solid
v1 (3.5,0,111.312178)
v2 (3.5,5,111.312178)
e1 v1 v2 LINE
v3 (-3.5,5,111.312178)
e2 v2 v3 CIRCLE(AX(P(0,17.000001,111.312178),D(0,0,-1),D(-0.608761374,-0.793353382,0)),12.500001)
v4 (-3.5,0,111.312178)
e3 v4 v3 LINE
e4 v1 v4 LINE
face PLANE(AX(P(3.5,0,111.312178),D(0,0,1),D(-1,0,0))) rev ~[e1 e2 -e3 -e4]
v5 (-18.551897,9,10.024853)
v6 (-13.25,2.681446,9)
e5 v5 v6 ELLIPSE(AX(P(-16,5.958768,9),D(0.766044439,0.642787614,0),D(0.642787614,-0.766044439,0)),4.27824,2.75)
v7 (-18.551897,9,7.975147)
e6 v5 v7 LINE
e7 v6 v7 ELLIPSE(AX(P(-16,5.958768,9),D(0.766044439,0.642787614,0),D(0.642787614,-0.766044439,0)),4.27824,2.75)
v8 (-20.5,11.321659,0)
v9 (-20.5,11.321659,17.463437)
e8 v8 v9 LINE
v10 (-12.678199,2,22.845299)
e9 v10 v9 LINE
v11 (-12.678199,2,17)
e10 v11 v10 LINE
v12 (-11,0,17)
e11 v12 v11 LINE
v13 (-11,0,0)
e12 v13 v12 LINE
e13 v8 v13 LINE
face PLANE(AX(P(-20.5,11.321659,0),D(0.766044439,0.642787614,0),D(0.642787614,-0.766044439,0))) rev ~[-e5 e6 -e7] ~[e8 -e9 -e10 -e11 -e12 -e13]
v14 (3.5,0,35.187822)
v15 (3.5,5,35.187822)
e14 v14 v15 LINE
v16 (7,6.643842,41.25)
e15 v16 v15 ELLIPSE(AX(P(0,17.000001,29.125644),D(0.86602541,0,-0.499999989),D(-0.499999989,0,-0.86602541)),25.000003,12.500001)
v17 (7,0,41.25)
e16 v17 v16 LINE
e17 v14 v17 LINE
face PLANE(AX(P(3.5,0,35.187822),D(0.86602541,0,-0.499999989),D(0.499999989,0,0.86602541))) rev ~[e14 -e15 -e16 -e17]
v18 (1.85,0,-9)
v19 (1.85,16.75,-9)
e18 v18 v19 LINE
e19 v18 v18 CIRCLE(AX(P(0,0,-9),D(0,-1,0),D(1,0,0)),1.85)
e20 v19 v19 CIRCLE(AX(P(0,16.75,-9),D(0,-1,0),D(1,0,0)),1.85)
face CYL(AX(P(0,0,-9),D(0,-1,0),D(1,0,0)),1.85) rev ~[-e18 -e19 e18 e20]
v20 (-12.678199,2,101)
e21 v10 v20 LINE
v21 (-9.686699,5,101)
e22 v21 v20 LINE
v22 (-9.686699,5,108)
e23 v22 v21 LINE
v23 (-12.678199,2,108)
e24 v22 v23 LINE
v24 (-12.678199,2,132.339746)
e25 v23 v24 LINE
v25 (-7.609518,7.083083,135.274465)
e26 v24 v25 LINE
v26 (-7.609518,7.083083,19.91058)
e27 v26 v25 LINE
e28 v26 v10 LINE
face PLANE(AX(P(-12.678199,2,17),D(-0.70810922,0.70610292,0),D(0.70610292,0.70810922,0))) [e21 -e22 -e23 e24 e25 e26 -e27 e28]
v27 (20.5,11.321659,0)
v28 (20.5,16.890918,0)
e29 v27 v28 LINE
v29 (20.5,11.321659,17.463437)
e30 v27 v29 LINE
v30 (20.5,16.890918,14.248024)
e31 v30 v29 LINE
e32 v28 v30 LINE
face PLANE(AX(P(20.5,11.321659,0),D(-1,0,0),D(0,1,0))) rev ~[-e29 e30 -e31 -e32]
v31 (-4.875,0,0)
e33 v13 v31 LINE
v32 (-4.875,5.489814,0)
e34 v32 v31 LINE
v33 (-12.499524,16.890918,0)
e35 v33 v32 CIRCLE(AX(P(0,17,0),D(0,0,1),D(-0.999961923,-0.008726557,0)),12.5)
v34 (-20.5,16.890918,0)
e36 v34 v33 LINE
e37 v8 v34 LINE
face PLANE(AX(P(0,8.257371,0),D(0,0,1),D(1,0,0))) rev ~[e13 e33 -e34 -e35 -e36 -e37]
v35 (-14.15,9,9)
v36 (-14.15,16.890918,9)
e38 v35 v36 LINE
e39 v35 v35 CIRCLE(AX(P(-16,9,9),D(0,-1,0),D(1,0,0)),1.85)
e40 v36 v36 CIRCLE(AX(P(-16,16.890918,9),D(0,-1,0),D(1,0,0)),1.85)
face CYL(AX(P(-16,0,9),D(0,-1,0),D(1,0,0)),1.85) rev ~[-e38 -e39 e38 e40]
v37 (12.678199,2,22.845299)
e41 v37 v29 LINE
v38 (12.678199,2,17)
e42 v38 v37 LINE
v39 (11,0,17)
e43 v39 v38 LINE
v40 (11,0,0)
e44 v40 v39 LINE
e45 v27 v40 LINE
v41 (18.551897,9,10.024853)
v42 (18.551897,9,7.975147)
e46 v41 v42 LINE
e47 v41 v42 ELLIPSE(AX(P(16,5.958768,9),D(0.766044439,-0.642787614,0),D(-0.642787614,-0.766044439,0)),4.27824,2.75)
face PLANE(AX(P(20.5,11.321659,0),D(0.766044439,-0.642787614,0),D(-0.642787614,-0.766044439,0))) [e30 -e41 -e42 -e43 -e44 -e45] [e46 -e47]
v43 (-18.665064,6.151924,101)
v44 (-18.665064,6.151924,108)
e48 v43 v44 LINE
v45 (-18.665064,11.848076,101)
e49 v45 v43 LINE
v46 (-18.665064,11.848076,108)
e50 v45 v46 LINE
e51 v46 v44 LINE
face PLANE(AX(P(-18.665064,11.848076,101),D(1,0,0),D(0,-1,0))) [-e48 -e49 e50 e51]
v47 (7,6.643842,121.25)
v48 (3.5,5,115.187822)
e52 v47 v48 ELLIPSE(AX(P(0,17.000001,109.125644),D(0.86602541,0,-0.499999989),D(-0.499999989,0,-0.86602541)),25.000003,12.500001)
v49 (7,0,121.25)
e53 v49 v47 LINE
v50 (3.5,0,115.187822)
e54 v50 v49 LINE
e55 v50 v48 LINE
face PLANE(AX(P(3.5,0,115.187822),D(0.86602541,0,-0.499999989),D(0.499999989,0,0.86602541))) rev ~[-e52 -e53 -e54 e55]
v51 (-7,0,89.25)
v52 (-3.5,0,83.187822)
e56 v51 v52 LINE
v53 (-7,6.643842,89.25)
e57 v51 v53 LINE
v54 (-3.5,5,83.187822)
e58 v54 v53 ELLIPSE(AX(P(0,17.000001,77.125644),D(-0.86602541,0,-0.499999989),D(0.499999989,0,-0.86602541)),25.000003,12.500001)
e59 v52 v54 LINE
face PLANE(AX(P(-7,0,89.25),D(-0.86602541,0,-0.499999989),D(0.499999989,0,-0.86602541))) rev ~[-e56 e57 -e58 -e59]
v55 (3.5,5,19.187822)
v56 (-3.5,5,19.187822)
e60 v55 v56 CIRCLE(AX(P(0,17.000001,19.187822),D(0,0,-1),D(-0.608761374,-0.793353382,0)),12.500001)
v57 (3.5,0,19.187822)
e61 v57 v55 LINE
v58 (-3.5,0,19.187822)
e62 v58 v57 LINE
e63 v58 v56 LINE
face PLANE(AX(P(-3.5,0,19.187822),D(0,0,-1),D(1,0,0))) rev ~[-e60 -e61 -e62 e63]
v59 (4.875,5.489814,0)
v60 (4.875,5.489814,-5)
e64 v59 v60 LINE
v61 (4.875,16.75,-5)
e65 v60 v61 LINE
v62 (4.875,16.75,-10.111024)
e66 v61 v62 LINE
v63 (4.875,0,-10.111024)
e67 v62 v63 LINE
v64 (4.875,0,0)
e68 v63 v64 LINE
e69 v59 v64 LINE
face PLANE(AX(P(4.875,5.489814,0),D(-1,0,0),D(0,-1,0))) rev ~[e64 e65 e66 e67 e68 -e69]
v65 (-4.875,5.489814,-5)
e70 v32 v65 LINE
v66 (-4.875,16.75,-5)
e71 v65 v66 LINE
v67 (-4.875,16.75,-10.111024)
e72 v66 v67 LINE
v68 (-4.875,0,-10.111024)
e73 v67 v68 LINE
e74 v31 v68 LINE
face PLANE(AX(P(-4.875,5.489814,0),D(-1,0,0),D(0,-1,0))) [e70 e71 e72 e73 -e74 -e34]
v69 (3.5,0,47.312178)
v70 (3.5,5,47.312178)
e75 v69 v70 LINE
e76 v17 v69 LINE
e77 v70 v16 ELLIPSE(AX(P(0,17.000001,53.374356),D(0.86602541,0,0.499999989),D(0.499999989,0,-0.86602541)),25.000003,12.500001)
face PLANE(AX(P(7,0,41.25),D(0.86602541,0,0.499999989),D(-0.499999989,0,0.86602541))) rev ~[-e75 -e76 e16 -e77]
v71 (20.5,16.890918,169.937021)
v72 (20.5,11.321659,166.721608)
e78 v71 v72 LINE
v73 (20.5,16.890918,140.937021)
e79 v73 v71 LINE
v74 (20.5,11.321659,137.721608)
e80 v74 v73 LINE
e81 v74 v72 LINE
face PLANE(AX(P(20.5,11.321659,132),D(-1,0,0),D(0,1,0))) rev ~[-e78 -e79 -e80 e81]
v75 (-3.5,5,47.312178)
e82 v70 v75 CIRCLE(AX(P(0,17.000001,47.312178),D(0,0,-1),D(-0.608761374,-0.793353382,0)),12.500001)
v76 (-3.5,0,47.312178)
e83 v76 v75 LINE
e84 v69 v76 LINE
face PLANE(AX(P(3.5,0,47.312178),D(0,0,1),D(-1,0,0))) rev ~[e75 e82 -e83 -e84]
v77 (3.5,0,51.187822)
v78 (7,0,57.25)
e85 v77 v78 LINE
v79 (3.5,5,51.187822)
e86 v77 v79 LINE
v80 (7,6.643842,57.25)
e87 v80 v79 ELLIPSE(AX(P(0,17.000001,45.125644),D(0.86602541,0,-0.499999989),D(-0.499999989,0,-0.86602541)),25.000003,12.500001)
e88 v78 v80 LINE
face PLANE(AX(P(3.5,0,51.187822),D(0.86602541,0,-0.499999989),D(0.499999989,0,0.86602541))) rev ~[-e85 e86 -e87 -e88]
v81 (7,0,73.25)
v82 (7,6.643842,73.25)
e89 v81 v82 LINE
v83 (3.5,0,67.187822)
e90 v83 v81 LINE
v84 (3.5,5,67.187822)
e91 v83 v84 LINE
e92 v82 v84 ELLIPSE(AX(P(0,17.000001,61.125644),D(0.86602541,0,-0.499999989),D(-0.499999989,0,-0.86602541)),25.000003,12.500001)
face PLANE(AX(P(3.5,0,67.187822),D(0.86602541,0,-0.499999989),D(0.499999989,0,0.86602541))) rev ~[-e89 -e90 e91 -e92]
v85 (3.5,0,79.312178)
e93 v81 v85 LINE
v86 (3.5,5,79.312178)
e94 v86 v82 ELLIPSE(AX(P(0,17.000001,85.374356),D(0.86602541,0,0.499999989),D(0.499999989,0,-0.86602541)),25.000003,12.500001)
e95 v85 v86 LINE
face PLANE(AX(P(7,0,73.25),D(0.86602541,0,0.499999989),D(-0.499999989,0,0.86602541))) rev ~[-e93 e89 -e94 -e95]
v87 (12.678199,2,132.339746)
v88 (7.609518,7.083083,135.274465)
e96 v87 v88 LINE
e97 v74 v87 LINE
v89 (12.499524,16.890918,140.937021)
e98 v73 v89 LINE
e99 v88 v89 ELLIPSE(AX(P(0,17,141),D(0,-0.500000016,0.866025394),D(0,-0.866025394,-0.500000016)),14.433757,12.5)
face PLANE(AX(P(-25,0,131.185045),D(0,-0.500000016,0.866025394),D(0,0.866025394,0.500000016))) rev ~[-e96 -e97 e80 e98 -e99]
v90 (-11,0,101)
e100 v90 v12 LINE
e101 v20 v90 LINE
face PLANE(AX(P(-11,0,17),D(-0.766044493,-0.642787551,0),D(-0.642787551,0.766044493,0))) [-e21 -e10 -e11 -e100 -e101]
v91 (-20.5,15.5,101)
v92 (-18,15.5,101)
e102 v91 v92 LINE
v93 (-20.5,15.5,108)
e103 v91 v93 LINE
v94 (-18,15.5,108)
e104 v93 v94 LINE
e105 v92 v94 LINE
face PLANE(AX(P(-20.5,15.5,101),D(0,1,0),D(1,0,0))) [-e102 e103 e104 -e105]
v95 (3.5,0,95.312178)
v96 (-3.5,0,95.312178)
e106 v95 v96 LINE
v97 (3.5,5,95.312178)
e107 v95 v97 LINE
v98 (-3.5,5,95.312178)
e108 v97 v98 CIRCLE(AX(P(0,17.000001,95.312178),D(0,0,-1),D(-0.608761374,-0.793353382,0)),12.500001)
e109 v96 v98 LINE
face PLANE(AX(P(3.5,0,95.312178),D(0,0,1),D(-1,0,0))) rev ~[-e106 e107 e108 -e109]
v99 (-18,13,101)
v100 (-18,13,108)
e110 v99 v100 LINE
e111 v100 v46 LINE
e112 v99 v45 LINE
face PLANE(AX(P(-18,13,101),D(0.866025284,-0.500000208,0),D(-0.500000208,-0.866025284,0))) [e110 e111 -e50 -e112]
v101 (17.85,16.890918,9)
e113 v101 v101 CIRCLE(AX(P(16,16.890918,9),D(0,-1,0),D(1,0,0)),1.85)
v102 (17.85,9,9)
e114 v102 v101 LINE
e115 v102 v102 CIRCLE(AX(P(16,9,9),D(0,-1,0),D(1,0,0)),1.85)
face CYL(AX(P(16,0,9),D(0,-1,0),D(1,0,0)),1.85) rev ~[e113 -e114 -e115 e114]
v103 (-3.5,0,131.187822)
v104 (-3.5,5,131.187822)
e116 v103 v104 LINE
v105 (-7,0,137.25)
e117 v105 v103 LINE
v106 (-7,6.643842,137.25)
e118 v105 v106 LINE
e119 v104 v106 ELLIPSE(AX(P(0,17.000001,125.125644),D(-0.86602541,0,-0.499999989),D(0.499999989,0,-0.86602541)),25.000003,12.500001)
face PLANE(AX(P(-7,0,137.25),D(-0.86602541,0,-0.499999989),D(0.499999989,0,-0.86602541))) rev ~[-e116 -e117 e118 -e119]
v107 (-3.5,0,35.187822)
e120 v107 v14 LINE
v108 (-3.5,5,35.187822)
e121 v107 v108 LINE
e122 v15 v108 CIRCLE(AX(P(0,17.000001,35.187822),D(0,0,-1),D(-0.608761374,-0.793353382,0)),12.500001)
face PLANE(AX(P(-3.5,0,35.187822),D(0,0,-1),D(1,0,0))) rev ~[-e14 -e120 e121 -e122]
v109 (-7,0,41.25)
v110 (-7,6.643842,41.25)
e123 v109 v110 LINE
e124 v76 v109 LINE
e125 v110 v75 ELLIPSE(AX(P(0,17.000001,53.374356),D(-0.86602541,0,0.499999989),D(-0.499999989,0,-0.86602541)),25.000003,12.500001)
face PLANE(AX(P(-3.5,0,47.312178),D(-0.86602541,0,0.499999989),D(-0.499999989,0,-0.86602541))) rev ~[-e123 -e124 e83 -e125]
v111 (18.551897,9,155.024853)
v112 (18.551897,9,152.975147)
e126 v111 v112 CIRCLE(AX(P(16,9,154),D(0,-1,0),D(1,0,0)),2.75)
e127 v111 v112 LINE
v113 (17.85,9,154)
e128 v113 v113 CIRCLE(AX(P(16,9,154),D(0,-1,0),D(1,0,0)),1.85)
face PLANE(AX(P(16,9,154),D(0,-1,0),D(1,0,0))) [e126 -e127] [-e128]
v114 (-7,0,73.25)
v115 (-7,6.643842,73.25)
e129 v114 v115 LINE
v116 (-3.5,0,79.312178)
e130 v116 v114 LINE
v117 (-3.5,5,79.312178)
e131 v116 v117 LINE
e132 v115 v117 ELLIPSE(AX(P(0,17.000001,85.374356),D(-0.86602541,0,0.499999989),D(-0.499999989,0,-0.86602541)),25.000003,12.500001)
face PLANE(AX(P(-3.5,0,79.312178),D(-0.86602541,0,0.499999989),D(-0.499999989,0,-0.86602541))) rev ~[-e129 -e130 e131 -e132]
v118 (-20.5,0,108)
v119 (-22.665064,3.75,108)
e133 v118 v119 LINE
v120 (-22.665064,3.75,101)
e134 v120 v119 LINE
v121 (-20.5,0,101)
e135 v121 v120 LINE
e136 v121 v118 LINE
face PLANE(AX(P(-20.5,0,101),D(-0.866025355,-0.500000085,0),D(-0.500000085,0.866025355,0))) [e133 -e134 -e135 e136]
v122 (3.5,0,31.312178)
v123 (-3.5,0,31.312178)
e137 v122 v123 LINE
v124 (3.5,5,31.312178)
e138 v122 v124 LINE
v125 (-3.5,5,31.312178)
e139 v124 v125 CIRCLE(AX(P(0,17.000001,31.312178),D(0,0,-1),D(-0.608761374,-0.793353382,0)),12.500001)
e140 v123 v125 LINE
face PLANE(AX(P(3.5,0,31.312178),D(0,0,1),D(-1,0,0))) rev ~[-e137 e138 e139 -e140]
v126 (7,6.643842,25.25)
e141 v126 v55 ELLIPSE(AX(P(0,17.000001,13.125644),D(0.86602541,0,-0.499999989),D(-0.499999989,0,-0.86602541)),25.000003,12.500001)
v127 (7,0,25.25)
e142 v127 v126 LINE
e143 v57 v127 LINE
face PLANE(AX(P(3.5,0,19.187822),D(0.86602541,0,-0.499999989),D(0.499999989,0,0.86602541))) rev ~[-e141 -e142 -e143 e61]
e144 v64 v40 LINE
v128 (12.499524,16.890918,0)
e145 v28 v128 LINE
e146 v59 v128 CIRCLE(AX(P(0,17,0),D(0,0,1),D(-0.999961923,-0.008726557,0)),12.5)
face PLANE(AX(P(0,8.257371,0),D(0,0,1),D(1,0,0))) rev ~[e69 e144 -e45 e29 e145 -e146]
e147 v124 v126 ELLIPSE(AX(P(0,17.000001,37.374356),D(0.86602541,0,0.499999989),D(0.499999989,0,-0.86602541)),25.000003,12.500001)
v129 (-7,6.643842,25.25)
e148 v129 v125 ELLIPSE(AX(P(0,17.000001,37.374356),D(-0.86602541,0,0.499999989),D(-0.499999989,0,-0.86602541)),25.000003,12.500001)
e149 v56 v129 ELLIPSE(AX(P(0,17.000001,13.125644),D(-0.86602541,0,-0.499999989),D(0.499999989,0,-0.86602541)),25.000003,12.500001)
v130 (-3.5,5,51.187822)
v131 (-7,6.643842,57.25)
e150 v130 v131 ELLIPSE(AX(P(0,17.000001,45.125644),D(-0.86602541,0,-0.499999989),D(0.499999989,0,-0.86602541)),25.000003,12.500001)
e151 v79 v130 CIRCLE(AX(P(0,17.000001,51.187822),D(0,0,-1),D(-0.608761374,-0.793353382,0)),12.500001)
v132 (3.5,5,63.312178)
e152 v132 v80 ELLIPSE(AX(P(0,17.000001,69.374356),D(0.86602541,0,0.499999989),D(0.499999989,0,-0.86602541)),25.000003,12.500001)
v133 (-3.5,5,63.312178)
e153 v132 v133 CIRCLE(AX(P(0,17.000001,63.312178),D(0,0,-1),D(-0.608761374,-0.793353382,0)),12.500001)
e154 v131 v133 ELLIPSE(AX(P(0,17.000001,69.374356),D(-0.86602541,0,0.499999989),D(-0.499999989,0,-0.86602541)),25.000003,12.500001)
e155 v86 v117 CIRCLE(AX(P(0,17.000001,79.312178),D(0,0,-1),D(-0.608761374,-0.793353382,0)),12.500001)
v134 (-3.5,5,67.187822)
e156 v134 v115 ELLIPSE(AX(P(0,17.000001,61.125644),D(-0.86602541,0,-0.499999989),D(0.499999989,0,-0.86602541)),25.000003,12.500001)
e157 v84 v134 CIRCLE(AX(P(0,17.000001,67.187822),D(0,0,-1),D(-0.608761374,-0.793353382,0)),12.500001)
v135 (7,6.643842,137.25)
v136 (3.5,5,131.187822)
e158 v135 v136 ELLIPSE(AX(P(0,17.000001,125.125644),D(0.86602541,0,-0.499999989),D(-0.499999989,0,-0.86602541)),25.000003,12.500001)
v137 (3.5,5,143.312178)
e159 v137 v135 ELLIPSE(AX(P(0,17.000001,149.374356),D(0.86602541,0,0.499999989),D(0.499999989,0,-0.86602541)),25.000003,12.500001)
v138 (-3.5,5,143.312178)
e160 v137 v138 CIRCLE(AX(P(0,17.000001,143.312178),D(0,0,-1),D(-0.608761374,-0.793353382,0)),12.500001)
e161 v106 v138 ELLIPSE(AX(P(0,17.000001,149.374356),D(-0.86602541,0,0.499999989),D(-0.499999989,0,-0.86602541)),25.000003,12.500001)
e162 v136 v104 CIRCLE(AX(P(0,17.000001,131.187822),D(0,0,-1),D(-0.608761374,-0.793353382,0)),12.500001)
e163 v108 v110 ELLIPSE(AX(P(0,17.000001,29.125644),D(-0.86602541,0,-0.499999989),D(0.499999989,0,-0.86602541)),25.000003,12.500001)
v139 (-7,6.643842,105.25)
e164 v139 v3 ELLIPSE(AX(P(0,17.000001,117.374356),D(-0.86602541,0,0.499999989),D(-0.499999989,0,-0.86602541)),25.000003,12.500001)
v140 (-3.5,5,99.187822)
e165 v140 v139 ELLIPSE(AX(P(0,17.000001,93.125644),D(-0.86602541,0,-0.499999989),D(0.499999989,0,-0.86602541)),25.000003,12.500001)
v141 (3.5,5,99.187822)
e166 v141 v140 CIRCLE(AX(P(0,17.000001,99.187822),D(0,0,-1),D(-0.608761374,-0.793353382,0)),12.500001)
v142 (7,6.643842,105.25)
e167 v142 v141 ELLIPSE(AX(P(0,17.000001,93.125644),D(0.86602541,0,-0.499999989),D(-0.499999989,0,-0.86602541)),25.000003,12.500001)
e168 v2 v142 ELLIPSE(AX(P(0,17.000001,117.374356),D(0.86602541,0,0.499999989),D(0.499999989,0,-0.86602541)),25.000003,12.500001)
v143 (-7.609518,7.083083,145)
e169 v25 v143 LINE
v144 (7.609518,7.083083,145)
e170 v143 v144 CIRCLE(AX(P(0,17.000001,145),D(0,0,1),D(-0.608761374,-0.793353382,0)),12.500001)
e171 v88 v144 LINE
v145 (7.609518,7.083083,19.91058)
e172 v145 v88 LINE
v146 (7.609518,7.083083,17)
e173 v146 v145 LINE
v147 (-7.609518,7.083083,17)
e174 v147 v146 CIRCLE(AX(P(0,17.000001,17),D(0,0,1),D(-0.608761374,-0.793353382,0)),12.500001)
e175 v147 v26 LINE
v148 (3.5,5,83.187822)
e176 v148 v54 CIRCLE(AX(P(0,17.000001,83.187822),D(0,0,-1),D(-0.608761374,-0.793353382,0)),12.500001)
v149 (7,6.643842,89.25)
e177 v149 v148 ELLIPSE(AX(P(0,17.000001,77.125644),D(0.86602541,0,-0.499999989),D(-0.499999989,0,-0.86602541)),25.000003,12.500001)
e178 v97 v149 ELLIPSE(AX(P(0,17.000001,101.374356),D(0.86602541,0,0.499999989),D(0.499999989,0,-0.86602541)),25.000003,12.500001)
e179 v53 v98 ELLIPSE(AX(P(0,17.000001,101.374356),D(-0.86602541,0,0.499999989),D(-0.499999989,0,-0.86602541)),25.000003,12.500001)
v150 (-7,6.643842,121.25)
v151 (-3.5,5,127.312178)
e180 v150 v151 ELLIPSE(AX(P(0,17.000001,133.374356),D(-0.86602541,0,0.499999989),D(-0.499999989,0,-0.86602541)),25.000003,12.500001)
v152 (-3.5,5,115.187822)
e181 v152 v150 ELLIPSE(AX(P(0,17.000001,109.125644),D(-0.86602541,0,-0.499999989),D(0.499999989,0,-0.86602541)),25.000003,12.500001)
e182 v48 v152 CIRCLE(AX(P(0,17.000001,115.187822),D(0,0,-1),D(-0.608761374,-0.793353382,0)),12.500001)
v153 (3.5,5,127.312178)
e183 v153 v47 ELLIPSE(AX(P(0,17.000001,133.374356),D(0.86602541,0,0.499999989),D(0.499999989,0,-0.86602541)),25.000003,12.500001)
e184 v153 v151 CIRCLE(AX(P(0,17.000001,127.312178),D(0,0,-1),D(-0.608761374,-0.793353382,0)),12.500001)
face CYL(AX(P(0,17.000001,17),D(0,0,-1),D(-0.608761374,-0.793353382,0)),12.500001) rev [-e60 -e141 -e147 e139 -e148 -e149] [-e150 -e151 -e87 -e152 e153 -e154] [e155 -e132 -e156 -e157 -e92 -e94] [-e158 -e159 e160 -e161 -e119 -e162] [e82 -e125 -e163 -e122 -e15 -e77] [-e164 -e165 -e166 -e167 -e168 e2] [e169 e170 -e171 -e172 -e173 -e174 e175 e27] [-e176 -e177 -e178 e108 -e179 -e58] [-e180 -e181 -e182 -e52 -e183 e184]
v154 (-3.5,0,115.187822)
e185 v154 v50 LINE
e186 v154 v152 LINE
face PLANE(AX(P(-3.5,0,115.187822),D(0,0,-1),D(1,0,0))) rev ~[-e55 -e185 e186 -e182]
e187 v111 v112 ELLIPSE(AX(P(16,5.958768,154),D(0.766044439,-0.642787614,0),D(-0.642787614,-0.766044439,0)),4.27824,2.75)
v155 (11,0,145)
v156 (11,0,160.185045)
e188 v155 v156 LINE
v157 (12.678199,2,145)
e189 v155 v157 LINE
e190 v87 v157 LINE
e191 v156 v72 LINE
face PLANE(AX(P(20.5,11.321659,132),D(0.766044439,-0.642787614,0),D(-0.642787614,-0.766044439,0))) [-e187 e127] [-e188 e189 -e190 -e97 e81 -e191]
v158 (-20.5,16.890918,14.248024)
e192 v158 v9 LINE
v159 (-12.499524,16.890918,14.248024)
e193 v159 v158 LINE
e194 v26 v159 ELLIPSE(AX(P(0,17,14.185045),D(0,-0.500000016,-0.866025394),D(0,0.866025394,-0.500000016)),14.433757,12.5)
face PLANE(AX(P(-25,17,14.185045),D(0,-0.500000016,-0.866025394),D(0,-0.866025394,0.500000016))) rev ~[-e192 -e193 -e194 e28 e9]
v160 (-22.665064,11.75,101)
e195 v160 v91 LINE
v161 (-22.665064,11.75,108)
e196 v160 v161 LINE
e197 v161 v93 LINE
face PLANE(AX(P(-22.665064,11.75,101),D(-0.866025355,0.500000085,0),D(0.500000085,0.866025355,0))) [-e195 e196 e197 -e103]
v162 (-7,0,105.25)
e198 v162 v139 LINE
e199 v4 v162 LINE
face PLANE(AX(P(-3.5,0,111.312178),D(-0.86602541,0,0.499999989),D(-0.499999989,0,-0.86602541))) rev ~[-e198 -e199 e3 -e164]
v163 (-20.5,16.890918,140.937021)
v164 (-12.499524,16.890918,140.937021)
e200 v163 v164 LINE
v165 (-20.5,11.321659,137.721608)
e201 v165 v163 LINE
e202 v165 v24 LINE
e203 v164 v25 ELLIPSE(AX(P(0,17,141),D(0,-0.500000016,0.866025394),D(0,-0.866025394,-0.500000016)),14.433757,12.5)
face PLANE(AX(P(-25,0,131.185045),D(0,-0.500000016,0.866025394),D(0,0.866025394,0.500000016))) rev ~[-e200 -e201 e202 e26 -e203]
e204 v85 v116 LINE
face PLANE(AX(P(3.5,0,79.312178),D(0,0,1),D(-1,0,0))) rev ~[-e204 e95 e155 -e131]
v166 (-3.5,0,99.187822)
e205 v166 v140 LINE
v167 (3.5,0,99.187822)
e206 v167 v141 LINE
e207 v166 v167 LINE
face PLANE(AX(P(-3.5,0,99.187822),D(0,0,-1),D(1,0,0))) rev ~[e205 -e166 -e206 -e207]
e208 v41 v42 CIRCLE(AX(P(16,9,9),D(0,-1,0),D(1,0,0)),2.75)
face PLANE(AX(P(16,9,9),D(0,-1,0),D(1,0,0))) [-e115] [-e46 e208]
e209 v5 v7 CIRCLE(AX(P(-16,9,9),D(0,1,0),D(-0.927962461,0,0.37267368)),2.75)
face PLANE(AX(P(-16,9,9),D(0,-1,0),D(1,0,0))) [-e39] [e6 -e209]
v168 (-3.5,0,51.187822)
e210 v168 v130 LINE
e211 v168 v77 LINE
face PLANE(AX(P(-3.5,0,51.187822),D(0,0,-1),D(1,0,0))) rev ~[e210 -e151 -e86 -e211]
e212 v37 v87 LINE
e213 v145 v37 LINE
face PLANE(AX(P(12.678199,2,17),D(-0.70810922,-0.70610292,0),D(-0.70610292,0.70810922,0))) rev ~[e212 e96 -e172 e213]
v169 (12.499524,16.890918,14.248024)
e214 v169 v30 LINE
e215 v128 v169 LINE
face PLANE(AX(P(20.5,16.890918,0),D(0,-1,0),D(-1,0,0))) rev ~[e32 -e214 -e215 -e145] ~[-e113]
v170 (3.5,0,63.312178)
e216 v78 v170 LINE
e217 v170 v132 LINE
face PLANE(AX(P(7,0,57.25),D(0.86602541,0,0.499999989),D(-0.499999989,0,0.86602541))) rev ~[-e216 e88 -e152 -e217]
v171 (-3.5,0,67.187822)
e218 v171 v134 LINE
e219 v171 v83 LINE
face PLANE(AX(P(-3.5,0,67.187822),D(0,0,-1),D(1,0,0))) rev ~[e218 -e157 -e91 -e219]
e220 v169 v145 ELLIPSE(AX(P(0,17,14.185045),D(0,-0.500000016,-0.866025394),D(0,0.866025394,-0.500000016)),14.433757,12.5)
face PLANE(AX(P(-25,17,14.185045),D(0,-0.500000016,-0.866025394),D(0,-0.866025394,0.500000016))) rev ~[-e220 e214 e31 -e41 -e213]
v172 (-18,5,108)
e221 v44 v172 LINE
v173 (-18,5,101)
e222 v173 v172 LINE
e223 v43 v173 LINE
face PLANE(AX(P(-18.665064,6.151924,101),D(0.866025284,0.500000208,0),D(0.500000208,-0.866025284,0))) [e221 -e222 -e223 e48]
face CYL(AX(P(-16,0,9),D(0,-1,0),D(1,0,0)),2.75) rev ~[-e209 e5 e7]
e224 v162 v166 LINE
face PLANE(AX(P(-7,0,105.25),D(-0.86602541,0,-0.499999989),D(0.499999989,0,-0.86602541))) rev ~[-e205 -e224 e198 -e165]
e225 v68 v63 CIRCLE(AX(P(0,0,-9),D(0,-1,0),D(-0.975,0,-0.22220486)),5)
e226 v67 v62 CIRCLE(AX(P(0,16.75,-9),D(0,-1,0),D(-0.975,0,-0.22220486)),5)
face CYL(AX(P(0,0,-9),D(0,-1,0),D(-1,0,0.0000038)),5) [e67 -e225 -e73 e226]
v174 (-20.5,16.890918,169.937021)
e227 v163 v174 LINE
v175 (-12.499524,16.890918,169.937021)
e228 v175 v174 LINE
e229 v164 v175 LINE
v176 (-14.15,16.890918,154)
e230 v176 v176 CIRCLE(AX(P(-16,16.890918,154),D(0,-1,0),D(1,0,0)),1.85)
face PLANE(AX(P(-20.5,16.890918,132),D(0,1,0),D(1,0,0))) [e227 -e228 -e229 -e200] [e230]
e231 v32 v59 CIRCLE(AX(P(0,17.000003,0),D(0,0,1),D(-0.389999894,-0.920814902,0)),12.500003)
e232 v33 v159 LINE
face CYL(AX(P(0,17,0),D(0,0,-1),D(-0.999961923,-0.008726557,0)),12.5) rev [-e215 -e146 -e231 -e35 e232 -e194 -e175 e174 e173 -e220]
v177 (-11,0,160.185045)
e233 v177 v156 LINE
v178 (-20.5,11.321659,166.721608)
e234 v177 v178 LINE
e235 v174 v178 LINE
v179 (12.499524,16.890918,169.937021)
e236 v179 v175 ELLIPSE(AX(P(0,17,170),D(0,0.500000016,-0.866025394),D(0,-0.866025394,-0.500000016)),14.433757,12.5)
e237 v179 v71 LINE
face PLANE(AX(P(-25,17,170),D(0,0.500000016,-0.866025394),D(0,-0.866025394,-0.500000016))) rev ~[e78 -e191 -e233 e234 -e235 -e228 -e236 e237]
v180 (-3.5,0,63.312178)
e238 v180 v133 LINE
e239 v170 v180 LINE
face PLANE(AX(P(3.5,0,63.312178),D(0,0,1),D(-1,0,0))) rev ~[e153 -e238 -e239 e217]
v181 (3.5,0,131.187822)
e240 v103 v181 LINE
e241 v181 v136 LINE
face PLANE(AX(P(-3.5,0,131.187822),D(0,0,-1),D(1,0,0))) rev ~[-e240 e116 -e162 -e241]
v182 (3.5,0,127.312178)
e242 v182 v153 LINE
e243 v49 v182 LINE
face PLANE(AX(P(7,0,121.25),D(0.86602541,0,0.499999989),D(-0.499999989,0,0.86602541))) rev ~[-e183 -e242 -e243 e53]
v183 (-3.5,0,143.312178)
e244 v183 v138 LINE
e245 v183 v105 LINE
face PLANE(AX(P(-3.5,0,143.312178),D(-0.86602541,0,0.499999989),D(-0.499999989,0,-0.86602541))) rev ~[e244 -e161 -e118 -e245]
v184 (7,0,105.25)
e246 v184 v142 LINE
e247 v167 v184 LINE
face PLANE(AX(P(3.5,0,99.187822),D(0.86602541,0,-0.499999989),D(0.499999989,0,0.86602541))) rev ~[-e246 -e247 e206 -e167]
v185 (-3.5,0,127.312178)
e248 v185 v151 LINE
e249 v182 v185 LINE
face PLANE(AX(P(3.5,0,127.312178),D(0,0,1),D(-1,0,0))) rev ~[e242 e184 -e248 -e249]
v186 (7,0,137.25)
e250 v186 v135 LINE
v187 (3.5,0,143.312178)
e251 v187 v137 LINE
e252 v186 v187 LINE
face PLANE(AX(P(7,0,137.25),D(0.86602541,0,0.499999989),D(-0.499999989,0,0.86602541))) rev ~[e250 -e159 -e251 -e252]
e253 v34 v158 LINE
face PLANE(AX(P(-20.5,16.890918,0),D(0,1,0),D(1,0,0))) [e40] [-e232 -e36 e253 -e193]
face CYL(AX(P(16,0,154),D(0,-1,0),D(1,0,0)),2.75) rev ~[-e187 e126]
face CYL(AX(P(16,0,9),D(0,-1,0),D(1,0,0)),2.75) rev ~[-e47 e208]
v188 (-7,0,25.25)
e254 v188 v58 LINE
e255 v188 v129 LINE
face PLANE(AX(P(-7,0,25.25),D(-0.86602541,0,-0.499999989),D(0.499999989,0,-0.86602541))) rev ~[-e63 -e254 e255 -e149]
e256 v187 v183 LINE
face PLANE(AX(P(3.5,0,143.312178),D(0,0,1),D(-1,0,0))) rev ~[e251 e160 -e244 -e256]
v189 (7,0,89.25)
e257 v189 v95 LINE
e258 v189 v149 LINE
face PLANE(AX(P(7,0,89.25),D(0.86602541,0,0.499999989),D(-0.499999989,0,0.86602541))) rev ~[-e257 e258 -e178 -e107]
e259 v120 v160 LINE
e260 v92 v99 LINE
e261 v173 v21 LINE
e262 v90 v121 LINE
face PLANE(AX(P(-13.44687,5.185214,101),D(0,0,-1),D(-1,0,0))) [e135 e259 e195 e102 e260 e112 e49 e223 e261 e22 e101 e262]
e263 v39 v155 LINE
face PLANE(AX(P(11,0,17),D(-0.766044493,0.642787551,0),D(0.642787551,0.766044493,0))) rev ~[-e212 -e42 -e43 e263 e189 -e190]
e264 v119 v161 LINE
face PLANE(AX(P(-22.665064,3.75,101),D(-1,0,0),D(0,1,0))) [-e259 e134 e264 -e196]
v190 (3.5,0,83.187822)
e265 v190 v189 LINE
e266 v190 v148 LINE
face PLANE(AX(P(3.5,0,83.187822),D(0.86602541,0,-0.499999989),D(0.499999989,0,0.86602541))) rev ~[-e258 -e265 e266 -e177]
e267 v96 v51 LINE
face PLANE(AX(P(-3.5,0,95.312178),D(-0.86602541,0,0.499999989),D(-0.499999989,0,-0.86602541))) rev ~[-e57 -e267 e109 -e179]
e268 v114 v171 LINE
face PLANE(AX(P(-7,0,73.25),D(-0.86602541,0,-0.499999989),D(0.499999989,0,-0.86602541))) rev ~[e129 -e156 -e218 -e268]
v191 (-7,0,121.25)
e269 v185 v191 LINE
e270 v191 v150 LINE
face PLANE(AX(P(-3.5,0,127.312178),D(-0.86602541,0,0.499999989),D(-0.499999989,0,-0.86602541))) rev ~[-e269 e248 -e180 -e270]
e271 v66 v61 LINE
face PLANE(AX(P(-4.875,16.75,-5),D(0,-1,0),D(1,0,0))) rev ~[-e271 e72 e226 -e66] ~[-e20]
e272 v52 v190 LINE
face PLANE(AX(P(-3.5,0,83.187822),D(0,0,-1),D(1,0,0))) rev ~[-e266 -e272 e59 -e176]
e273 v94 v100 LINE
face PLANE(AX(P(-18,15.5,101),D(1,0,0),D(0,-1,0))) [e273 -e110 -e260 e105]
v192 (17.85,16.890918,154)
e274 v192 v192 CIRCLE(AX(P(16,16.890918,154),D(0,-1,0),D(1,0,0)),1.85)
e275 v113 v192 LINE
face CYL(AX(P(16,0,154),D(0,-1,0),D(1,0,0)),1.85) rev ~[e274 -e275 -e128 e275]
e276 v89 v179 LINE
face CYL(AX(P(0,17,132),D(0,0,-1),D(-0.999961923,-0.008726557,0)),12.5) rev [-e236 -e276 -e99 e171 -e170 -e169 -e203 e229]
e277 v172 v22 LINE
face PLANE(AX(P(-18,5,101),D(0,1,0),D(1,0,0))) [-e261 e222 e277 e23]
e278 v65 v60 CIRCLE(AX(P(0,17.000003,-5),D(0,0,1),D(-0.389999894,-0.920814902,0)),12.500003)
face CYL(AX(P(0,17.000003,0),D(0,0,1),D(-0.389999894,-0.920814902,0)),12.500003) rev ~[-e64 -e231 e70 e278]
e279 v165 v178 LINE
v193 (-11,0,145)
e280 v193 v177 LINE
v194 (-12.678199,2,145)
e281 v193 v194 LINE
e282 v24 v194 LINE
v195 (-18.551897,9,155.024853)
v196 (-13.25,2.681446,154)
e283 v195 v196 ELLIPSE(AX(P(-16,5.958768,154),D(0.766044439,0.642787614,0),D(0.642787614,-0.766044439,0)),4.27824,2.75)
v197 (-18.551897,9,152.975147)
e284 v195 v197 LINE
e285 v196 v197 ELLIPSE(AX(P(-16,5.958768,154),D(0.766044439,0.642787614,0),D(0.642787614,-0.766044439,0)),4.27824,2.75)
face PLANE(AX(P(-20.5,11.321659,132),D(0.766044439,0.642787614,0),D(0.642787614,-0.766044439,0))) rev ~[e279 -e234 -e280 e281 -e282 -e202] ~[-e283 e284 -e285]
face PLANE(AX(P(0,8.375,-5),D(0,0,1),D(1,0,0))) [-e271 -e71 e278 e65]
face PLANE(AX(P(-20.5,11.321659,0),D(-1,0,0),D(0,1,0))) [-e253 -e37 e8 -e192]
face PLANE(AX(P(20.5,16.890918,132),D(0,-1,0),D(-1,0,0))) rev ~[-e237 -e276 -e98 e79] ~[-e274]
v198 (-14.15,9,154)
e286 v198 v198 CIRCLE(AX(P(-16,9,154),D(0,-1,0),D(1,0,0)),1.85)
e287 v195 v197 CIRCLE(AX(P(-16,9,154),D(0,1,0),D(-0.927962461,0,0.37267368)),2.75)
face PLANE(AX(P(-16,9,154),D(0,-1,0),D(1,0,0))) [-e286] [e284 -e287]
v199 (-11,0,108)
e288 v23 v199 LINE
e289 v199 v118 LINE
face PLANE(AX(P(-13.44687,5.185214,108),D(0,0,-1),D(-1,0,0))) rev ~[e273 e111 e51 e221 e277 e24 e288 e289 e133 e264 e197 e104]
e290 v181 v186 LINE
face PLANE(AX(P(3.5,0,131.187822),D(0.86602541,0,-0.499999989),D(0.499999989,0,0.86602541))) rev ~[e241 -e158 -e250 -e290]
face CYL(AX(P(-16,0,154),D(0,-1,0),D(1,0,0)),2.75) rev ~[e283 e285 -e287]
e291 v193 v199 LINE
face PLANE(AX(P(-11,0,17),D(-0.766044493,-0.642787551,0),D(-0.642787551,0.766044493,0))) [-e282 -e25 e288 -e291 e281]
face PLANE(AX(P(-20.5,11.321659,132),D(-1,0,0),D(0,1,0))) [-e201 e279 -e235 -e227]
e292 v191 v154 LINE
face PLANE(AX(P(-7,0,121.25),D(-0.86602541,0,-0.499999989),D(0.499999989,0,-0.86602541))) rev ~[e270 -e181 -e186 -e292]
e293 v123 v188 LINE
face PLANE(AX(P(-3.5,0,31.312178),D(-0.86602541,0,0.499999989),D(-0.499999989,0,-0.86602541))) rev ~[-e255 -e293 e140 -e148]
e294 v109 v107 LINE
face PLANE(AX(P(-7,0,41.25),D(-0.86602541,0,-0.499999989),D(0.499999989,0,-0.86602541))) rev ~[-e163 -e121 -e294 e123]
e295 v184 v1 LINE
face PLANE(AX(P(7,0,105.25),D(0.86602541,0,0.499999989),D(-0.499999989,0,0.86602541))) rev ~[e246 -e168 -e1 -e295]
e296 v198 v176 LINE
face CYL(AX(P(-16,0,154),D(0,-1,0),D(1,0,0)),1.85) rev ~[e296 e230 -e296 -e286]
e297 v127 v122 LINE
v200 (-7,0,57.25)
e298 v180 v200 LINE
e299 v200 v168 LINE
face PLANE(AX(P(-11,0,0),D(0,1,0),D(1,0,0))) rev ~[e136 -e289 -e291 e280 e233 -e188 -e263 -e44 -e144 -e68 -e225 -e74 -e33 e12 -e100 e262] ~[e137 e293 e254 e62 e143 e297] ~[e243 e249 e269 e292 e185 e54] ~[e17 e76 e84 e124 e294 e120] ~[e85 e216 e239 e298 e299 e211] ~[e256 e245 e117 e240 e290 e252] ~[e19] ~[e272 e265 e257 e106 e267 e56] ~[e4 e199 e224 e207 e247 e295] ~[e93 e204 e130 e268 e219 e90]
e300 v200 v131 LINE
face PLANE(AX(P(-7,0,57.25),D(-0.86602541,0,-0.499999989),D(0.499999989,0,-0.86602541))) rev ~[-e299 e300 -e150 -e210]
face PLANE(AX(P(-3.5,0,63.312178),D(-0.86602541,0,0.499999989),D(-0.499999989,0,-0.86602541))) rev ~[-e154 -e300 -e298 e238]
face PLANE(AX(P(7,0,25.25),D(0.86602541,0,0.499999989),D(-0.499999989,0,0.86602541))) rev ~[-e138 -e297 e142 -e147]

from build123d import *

# Parameters (mm, degrees)
SKETCH190_R         = 1.85
EXTRUDE136003_DEPTH = 20
EXTRUDE136010_DEPTH = 50
SKETCH193_R         = 2.75
EXTRUDE136006_DEPTH = 9
SKETCH192_R         = 1.85
EXTRUDE136005_DEPTH = 20
EXTRUDE136004_DEPTH = 38
EXTRUDE136011_DEPTH = 50
SKETCH196_R         = 2.75
EXTRUDE136009_DEPTH = 9
SKETCH195_R         = 1.85
EXTRUDE136008_DEPTH = 20
EXTRUDE136007_DEPTH = 24
EXTRUDE136012_DEPTH = 14
SKETCH200_W         = 9.75
SKETCH200_H         = 16.75
EXTRUDE136013_DEPTH = 9
EXTRUDE136014_DEPTH = 7
EXTRUDE136002_DEPTH = 128


with BuildPart() as extrude136003:
    # Sketch190 → Extrude136003 (new body)
    with BuildSketch(Plane.XZ):
        with Locations((0, -9)):
            Circle(SKETCH190_R)
        Polygon((3.5, 19.187822), (7, 25.25), (3.5, 31.312178), (-3.5, 31.312178), (-7, 25.25), (-3.5, 19.187822), align=None)
        Polygon((3.5, 35.187822), (7, 41.25), (3.5, 47.312178), (-3.5, 47.312178), (-7, 41.25), (-3.5, 35.187822), align=None)
        Polygon((3.5, 51.187822), (7, 57.25), (3.5, 63.312178), (-3.5, 63.312178), (-7, 57.25), (-3.5, 51.187822), align=None)
        Polygon((3.5, 67.187822), (7, 73.25), (3.5, 79.312178), (-3.5, 79.312178), (-7, 73.25), (-3.5, 67.187822), align=None)
        Polygon((3.5, 83.187822), (7, 89.25), (3.5, 95.312178), (-3.5, 95.312178), (-7, 89.25), (-3.5, 83.187822), align=None)
        Polygon((3.5, 99.187822), (7, 105.25), (3.5, 111.312178), (-3.5, 111.312178), (-7, 105.25), (-3.5, 99.187822), align=None)
        Polygon((3.5, 115.187822), (7, 121.25), (3.5, 127.312178), (-3.5, 127.312178), (-7, 121.25), (-3.5, 115.187822), align=None)
        Polygon((3.5, 131.187822), (7, 137.25), (3.5, 143.312178), (-3.5, 143.312178), (-7, 137.25), (-3.5, 131.187822), align=None)
        with BuildLine():
            Line((5, -8.999981), (5, -15.999981))
            Line((5, -15.999981), (-5, -15.999981))
            Line((-5, -15.999981), (-5, -8.999981))
            ThreePointArc((-5, -8.999981), (0, -14), (5, -8.999981))
        make_face()
    extrude(amount=-EXTRUDE136003_DEPTH)


with BuildPart() as extrude136010:
    # Sketch197 → Extrude136010 (new body)
    with BuildSketch(Plane.YZ):
        Polygon((0, -9.814955), (17, 0), (17, -9.814955), align=None)
        Polygon((17, 29), (0, 19.185045), (0, 29), align=None)
    extrude(amount=EXTRUDE136010_DEPTH)


with BuildPart() as extrude136010_1:
    # Extrude136010 placement: moved
    add(extrude136010.part.moved(Location((-25, 0, 0))))


with BuildPart() as extrude136006:
    # Sketch193 → Extrude136006 (new body)
    with BuildSketch(Plane.XZ):
        with Locations((-16, 0)):
            Circle(SKETCH193_R)
        with Locations((16, 0)):
            Circle(SKETCH193_R)
    extrude(amount=-EXTRUDE136006_DEPTH)


with BuildPart() as fusion034004041018:
    # Sketch192 → Extrude136005 (new body)
    with BuildSketch(Plane.XZ):
        with Locations((-16, 0)):
            Circle(SKETCH192_R)
        with Locations((16, 0)):
            Circle(SKETCH192_R)
    extrude(amount=-EXTRUDE136005_DEPTH)

    # Fusion034004041016: union Extrude136006
    add(extrude136006.part)


with BuildPart() as fusion034004041018_1:
    # Fusion034004041016 placement: moved
    add(fusion034004041018.part.moved(Location((0, 0, 13))))

    # Fusion034004041018: union Extrude136010
    add(extrude136010_1.part)


with BuildPart() as cut009010006006004:
    # Sketch191 → Extrude136004 (new body)
    with BuildSketch(Plane.XY):
        with BuildLine():
            Line((-11, 0), (11, 0))
            Line((20.5, 11.321659), (11, 0))
            Line((20.5, 11.321659), (20.5, 16.890918))
            Line((20.5, 16.890918), (12.499524, 16.890918))
            ThreePointArc((-12.499524, 16.890918), (0, 4.5), (12.499524, 16.890918))
            Line((-20.5, 16.890918), (-12.499524, 16.890918))
            Line((-20.5, 11.321659), (-20.5, 16.890918))
            Line((-20.5, 11.321659), (-11, 0))
        make_face()
    extrude(amount=EXTRUDE136004_DEPTH)


with BuildPart() as cut009010006006004_1:
    # Extrude136004 placement: moved
    add(cut009010006006004.part.moved(Location((0, 0, -9))))

    # Cut009010006006004: cut Fusion034004041018
    add(fusion034004041018_1.part, mode=Mode.SUBTRACT)


with BuildPart() as cut009010006006004_2:
    # Cut009010006006004 placement: moved
    add(cut009010006006004_1.part.moved(Location((0, 0, 141))))


with BuildPart() as extrude136011:
    # Sketch198 → Extrude136011 (new body)
    with BuildSketch(Plane.YZ):
        Polygon((0, 24), (17, 24), (17, 14.185045), align=None)
    extrude(amount=EXTRUDE136011_DEPTH)


with BuildPart() as extrude136011_1:
    # Extrude136011 placement: moved
    add(extrude136011.part.moved(Location((-25, 0, 0))))


with BuildPart() as extrude136009:
    # Sketch196 → Extrude136009 (new body)
    with BuildSketch(Plane.XZ):
        with Locations((-16, 0)):
            Circle(SKETCH196_R)
        with Locations((16, 0)):
            Circle(SKETCH196_R)
    extrude(amount=-EXTRUDE136009_DEPTH)


with BuildPart() as fusion034004041017:
    # Sketch195 → Extrude136008 (new body)
    with BuildSketch(Plane.XZ):
        with Locations((-16, 0)):
            Circle(SKETCH195_R)
        with Locations((16, 0)):
            Circle(SKETCH195_R)
    extrude(amount=-EXTRUDE136008_DEPTH)

    # Fusion034004041017: union Extrude136009
    add(extrude136009.part)


with BuildPart() as fusion034004041017_1:
    # Fusion034004041017 placement: moved
    add(fusion034004041017.part.moved(Location((0, 0, 9))))


with BuildPart() as cut009010006006005:
    # Sketch194 → Extrude136007 (new body)
    with BuildSketch(Plane.XY):
        with BuildLine():
            Line((-11, 0), (11, 0))
            Line((20.5, 11.321659), (11, 0))
            Line((20.5, 11.321659), (20.5, 16.890918))
            Line((20.5, 16.890918), (12.499524, 16.890918))
            ThreePointArc((-12.499524, 16.890918), (0, 4.5), (12.499524, 16.890918))
            Line((-20.5, 16.890918), (-12.499524, 16.890918))
            Line((-20.5, 11.321659), (-20.5, 16.890918))
            Line((-20.5, 11.321659), (-11, 0))
        make_face()
    extrude(amount=EXTRUDE136007_DEPTH)

    # Cut009010006006003: cut Fusion034004041017
    add(fusion034004041017_1.part, mode=Mode.SUBTRACT)

    # Cut009010006006005: cut Extrude136011
    add(extrude136011_1.part, mode=Mode.SUBTRACT)


with BuildPart() as extrude136012:
    # Sketch199 → Extrude136012 (new body)
    with BuildSketch(Plane.XY):
        with BuildLine():
            Line((-4.875, 0), (4.875, 0))
            Line((4.875, 5.489814), (4.875, 0))
            ThreePointArc((-4.875, 5.489814), (0, 4.5), (4.875, 5.489814))
            Line((-4.875, 5.489814), (-4.875, 0))
        make_face()
    extrude(amount=-EXTRUDE136012_DEPTH)


with BuildPart() as extrude136013:
    # Sketch200 → Extrude136013 (new body)
    with BuildSketch(Plane.XY):
        with Locations((0, 8.375)):
            Rectangle(SKETCH200_W, SKETCH200_H)
    extrude(amount=-EXTRUDE136013_DEPTH)


with BuildPart() as extrude136013_1:
    # Extrude136013 placement: moved
    add(extrude136013.part.moved(Location((0, 0, -5))))


with BuildPart() as extrude136014:
    # Sketch201 → Extrude136014 (new body)
    with BuildSketch(Plane.XY):
        Polygon((0, 5), (0, 0), (-20.5, 0), (-22.665064, 3.75), (-22.665064, 11.75), (-20.5, 15.5), (-18, 15.5), (-18, 13), (-18.665064, 11.848076), (-18.665064, 6.151924), (-18, 5), align=None)
    extrude(amount=EXTRUDE136014_DEPTH)


with BuildPart() as extrude136014_1:
    # Extrude136014 placement: moved
    add(extrude136014.part.moved(Location((0, 0, 101))))


with BuildPart() as cut009010006006006:
    # Sketch189 → Extrude136002 (new body)
    with BuildSketch(Plane.XY):
        with BuildLine():
            Line((-11, 0), (11, 0))
            Line((11, 0), (12.678199, 2))
            Line((12.678199, 2), (7.609518, 7.083083))
            ThreePointArc((-7.609518, 7.083083), (0, 4.5), (7.609518, 7.083083))
            Line((-12.678199, 2), (-7.609518, 7.083083))
            Line((-11, 0), (-12.678199, 2))
        make_face()
    extrude(amount=EXTRUDE136002_DEPTH)


with BuildPart() as cut009010006006006_1:
    # Extrude136002 placement: moved
    add(cut009010006006006.part.moved(Location((0, 0, 17))))

    # Fusion034004041019: union Cut009010006006004, Cut009010006006005, Extrude136012, Extrude136013, Extrude136014
    add(cut009010006006004_2.part)
    add(cut009010006006005.part)
    add(extrude136012.part)
    add(extrude136013_1.part)
    add(extrude136014_1.part)

    # Cut009010006006006: cut Extrude136003
    add(extrude136003.part, mode=Mode.SUBTRACT)


solid = cut009010006006006_1.part
